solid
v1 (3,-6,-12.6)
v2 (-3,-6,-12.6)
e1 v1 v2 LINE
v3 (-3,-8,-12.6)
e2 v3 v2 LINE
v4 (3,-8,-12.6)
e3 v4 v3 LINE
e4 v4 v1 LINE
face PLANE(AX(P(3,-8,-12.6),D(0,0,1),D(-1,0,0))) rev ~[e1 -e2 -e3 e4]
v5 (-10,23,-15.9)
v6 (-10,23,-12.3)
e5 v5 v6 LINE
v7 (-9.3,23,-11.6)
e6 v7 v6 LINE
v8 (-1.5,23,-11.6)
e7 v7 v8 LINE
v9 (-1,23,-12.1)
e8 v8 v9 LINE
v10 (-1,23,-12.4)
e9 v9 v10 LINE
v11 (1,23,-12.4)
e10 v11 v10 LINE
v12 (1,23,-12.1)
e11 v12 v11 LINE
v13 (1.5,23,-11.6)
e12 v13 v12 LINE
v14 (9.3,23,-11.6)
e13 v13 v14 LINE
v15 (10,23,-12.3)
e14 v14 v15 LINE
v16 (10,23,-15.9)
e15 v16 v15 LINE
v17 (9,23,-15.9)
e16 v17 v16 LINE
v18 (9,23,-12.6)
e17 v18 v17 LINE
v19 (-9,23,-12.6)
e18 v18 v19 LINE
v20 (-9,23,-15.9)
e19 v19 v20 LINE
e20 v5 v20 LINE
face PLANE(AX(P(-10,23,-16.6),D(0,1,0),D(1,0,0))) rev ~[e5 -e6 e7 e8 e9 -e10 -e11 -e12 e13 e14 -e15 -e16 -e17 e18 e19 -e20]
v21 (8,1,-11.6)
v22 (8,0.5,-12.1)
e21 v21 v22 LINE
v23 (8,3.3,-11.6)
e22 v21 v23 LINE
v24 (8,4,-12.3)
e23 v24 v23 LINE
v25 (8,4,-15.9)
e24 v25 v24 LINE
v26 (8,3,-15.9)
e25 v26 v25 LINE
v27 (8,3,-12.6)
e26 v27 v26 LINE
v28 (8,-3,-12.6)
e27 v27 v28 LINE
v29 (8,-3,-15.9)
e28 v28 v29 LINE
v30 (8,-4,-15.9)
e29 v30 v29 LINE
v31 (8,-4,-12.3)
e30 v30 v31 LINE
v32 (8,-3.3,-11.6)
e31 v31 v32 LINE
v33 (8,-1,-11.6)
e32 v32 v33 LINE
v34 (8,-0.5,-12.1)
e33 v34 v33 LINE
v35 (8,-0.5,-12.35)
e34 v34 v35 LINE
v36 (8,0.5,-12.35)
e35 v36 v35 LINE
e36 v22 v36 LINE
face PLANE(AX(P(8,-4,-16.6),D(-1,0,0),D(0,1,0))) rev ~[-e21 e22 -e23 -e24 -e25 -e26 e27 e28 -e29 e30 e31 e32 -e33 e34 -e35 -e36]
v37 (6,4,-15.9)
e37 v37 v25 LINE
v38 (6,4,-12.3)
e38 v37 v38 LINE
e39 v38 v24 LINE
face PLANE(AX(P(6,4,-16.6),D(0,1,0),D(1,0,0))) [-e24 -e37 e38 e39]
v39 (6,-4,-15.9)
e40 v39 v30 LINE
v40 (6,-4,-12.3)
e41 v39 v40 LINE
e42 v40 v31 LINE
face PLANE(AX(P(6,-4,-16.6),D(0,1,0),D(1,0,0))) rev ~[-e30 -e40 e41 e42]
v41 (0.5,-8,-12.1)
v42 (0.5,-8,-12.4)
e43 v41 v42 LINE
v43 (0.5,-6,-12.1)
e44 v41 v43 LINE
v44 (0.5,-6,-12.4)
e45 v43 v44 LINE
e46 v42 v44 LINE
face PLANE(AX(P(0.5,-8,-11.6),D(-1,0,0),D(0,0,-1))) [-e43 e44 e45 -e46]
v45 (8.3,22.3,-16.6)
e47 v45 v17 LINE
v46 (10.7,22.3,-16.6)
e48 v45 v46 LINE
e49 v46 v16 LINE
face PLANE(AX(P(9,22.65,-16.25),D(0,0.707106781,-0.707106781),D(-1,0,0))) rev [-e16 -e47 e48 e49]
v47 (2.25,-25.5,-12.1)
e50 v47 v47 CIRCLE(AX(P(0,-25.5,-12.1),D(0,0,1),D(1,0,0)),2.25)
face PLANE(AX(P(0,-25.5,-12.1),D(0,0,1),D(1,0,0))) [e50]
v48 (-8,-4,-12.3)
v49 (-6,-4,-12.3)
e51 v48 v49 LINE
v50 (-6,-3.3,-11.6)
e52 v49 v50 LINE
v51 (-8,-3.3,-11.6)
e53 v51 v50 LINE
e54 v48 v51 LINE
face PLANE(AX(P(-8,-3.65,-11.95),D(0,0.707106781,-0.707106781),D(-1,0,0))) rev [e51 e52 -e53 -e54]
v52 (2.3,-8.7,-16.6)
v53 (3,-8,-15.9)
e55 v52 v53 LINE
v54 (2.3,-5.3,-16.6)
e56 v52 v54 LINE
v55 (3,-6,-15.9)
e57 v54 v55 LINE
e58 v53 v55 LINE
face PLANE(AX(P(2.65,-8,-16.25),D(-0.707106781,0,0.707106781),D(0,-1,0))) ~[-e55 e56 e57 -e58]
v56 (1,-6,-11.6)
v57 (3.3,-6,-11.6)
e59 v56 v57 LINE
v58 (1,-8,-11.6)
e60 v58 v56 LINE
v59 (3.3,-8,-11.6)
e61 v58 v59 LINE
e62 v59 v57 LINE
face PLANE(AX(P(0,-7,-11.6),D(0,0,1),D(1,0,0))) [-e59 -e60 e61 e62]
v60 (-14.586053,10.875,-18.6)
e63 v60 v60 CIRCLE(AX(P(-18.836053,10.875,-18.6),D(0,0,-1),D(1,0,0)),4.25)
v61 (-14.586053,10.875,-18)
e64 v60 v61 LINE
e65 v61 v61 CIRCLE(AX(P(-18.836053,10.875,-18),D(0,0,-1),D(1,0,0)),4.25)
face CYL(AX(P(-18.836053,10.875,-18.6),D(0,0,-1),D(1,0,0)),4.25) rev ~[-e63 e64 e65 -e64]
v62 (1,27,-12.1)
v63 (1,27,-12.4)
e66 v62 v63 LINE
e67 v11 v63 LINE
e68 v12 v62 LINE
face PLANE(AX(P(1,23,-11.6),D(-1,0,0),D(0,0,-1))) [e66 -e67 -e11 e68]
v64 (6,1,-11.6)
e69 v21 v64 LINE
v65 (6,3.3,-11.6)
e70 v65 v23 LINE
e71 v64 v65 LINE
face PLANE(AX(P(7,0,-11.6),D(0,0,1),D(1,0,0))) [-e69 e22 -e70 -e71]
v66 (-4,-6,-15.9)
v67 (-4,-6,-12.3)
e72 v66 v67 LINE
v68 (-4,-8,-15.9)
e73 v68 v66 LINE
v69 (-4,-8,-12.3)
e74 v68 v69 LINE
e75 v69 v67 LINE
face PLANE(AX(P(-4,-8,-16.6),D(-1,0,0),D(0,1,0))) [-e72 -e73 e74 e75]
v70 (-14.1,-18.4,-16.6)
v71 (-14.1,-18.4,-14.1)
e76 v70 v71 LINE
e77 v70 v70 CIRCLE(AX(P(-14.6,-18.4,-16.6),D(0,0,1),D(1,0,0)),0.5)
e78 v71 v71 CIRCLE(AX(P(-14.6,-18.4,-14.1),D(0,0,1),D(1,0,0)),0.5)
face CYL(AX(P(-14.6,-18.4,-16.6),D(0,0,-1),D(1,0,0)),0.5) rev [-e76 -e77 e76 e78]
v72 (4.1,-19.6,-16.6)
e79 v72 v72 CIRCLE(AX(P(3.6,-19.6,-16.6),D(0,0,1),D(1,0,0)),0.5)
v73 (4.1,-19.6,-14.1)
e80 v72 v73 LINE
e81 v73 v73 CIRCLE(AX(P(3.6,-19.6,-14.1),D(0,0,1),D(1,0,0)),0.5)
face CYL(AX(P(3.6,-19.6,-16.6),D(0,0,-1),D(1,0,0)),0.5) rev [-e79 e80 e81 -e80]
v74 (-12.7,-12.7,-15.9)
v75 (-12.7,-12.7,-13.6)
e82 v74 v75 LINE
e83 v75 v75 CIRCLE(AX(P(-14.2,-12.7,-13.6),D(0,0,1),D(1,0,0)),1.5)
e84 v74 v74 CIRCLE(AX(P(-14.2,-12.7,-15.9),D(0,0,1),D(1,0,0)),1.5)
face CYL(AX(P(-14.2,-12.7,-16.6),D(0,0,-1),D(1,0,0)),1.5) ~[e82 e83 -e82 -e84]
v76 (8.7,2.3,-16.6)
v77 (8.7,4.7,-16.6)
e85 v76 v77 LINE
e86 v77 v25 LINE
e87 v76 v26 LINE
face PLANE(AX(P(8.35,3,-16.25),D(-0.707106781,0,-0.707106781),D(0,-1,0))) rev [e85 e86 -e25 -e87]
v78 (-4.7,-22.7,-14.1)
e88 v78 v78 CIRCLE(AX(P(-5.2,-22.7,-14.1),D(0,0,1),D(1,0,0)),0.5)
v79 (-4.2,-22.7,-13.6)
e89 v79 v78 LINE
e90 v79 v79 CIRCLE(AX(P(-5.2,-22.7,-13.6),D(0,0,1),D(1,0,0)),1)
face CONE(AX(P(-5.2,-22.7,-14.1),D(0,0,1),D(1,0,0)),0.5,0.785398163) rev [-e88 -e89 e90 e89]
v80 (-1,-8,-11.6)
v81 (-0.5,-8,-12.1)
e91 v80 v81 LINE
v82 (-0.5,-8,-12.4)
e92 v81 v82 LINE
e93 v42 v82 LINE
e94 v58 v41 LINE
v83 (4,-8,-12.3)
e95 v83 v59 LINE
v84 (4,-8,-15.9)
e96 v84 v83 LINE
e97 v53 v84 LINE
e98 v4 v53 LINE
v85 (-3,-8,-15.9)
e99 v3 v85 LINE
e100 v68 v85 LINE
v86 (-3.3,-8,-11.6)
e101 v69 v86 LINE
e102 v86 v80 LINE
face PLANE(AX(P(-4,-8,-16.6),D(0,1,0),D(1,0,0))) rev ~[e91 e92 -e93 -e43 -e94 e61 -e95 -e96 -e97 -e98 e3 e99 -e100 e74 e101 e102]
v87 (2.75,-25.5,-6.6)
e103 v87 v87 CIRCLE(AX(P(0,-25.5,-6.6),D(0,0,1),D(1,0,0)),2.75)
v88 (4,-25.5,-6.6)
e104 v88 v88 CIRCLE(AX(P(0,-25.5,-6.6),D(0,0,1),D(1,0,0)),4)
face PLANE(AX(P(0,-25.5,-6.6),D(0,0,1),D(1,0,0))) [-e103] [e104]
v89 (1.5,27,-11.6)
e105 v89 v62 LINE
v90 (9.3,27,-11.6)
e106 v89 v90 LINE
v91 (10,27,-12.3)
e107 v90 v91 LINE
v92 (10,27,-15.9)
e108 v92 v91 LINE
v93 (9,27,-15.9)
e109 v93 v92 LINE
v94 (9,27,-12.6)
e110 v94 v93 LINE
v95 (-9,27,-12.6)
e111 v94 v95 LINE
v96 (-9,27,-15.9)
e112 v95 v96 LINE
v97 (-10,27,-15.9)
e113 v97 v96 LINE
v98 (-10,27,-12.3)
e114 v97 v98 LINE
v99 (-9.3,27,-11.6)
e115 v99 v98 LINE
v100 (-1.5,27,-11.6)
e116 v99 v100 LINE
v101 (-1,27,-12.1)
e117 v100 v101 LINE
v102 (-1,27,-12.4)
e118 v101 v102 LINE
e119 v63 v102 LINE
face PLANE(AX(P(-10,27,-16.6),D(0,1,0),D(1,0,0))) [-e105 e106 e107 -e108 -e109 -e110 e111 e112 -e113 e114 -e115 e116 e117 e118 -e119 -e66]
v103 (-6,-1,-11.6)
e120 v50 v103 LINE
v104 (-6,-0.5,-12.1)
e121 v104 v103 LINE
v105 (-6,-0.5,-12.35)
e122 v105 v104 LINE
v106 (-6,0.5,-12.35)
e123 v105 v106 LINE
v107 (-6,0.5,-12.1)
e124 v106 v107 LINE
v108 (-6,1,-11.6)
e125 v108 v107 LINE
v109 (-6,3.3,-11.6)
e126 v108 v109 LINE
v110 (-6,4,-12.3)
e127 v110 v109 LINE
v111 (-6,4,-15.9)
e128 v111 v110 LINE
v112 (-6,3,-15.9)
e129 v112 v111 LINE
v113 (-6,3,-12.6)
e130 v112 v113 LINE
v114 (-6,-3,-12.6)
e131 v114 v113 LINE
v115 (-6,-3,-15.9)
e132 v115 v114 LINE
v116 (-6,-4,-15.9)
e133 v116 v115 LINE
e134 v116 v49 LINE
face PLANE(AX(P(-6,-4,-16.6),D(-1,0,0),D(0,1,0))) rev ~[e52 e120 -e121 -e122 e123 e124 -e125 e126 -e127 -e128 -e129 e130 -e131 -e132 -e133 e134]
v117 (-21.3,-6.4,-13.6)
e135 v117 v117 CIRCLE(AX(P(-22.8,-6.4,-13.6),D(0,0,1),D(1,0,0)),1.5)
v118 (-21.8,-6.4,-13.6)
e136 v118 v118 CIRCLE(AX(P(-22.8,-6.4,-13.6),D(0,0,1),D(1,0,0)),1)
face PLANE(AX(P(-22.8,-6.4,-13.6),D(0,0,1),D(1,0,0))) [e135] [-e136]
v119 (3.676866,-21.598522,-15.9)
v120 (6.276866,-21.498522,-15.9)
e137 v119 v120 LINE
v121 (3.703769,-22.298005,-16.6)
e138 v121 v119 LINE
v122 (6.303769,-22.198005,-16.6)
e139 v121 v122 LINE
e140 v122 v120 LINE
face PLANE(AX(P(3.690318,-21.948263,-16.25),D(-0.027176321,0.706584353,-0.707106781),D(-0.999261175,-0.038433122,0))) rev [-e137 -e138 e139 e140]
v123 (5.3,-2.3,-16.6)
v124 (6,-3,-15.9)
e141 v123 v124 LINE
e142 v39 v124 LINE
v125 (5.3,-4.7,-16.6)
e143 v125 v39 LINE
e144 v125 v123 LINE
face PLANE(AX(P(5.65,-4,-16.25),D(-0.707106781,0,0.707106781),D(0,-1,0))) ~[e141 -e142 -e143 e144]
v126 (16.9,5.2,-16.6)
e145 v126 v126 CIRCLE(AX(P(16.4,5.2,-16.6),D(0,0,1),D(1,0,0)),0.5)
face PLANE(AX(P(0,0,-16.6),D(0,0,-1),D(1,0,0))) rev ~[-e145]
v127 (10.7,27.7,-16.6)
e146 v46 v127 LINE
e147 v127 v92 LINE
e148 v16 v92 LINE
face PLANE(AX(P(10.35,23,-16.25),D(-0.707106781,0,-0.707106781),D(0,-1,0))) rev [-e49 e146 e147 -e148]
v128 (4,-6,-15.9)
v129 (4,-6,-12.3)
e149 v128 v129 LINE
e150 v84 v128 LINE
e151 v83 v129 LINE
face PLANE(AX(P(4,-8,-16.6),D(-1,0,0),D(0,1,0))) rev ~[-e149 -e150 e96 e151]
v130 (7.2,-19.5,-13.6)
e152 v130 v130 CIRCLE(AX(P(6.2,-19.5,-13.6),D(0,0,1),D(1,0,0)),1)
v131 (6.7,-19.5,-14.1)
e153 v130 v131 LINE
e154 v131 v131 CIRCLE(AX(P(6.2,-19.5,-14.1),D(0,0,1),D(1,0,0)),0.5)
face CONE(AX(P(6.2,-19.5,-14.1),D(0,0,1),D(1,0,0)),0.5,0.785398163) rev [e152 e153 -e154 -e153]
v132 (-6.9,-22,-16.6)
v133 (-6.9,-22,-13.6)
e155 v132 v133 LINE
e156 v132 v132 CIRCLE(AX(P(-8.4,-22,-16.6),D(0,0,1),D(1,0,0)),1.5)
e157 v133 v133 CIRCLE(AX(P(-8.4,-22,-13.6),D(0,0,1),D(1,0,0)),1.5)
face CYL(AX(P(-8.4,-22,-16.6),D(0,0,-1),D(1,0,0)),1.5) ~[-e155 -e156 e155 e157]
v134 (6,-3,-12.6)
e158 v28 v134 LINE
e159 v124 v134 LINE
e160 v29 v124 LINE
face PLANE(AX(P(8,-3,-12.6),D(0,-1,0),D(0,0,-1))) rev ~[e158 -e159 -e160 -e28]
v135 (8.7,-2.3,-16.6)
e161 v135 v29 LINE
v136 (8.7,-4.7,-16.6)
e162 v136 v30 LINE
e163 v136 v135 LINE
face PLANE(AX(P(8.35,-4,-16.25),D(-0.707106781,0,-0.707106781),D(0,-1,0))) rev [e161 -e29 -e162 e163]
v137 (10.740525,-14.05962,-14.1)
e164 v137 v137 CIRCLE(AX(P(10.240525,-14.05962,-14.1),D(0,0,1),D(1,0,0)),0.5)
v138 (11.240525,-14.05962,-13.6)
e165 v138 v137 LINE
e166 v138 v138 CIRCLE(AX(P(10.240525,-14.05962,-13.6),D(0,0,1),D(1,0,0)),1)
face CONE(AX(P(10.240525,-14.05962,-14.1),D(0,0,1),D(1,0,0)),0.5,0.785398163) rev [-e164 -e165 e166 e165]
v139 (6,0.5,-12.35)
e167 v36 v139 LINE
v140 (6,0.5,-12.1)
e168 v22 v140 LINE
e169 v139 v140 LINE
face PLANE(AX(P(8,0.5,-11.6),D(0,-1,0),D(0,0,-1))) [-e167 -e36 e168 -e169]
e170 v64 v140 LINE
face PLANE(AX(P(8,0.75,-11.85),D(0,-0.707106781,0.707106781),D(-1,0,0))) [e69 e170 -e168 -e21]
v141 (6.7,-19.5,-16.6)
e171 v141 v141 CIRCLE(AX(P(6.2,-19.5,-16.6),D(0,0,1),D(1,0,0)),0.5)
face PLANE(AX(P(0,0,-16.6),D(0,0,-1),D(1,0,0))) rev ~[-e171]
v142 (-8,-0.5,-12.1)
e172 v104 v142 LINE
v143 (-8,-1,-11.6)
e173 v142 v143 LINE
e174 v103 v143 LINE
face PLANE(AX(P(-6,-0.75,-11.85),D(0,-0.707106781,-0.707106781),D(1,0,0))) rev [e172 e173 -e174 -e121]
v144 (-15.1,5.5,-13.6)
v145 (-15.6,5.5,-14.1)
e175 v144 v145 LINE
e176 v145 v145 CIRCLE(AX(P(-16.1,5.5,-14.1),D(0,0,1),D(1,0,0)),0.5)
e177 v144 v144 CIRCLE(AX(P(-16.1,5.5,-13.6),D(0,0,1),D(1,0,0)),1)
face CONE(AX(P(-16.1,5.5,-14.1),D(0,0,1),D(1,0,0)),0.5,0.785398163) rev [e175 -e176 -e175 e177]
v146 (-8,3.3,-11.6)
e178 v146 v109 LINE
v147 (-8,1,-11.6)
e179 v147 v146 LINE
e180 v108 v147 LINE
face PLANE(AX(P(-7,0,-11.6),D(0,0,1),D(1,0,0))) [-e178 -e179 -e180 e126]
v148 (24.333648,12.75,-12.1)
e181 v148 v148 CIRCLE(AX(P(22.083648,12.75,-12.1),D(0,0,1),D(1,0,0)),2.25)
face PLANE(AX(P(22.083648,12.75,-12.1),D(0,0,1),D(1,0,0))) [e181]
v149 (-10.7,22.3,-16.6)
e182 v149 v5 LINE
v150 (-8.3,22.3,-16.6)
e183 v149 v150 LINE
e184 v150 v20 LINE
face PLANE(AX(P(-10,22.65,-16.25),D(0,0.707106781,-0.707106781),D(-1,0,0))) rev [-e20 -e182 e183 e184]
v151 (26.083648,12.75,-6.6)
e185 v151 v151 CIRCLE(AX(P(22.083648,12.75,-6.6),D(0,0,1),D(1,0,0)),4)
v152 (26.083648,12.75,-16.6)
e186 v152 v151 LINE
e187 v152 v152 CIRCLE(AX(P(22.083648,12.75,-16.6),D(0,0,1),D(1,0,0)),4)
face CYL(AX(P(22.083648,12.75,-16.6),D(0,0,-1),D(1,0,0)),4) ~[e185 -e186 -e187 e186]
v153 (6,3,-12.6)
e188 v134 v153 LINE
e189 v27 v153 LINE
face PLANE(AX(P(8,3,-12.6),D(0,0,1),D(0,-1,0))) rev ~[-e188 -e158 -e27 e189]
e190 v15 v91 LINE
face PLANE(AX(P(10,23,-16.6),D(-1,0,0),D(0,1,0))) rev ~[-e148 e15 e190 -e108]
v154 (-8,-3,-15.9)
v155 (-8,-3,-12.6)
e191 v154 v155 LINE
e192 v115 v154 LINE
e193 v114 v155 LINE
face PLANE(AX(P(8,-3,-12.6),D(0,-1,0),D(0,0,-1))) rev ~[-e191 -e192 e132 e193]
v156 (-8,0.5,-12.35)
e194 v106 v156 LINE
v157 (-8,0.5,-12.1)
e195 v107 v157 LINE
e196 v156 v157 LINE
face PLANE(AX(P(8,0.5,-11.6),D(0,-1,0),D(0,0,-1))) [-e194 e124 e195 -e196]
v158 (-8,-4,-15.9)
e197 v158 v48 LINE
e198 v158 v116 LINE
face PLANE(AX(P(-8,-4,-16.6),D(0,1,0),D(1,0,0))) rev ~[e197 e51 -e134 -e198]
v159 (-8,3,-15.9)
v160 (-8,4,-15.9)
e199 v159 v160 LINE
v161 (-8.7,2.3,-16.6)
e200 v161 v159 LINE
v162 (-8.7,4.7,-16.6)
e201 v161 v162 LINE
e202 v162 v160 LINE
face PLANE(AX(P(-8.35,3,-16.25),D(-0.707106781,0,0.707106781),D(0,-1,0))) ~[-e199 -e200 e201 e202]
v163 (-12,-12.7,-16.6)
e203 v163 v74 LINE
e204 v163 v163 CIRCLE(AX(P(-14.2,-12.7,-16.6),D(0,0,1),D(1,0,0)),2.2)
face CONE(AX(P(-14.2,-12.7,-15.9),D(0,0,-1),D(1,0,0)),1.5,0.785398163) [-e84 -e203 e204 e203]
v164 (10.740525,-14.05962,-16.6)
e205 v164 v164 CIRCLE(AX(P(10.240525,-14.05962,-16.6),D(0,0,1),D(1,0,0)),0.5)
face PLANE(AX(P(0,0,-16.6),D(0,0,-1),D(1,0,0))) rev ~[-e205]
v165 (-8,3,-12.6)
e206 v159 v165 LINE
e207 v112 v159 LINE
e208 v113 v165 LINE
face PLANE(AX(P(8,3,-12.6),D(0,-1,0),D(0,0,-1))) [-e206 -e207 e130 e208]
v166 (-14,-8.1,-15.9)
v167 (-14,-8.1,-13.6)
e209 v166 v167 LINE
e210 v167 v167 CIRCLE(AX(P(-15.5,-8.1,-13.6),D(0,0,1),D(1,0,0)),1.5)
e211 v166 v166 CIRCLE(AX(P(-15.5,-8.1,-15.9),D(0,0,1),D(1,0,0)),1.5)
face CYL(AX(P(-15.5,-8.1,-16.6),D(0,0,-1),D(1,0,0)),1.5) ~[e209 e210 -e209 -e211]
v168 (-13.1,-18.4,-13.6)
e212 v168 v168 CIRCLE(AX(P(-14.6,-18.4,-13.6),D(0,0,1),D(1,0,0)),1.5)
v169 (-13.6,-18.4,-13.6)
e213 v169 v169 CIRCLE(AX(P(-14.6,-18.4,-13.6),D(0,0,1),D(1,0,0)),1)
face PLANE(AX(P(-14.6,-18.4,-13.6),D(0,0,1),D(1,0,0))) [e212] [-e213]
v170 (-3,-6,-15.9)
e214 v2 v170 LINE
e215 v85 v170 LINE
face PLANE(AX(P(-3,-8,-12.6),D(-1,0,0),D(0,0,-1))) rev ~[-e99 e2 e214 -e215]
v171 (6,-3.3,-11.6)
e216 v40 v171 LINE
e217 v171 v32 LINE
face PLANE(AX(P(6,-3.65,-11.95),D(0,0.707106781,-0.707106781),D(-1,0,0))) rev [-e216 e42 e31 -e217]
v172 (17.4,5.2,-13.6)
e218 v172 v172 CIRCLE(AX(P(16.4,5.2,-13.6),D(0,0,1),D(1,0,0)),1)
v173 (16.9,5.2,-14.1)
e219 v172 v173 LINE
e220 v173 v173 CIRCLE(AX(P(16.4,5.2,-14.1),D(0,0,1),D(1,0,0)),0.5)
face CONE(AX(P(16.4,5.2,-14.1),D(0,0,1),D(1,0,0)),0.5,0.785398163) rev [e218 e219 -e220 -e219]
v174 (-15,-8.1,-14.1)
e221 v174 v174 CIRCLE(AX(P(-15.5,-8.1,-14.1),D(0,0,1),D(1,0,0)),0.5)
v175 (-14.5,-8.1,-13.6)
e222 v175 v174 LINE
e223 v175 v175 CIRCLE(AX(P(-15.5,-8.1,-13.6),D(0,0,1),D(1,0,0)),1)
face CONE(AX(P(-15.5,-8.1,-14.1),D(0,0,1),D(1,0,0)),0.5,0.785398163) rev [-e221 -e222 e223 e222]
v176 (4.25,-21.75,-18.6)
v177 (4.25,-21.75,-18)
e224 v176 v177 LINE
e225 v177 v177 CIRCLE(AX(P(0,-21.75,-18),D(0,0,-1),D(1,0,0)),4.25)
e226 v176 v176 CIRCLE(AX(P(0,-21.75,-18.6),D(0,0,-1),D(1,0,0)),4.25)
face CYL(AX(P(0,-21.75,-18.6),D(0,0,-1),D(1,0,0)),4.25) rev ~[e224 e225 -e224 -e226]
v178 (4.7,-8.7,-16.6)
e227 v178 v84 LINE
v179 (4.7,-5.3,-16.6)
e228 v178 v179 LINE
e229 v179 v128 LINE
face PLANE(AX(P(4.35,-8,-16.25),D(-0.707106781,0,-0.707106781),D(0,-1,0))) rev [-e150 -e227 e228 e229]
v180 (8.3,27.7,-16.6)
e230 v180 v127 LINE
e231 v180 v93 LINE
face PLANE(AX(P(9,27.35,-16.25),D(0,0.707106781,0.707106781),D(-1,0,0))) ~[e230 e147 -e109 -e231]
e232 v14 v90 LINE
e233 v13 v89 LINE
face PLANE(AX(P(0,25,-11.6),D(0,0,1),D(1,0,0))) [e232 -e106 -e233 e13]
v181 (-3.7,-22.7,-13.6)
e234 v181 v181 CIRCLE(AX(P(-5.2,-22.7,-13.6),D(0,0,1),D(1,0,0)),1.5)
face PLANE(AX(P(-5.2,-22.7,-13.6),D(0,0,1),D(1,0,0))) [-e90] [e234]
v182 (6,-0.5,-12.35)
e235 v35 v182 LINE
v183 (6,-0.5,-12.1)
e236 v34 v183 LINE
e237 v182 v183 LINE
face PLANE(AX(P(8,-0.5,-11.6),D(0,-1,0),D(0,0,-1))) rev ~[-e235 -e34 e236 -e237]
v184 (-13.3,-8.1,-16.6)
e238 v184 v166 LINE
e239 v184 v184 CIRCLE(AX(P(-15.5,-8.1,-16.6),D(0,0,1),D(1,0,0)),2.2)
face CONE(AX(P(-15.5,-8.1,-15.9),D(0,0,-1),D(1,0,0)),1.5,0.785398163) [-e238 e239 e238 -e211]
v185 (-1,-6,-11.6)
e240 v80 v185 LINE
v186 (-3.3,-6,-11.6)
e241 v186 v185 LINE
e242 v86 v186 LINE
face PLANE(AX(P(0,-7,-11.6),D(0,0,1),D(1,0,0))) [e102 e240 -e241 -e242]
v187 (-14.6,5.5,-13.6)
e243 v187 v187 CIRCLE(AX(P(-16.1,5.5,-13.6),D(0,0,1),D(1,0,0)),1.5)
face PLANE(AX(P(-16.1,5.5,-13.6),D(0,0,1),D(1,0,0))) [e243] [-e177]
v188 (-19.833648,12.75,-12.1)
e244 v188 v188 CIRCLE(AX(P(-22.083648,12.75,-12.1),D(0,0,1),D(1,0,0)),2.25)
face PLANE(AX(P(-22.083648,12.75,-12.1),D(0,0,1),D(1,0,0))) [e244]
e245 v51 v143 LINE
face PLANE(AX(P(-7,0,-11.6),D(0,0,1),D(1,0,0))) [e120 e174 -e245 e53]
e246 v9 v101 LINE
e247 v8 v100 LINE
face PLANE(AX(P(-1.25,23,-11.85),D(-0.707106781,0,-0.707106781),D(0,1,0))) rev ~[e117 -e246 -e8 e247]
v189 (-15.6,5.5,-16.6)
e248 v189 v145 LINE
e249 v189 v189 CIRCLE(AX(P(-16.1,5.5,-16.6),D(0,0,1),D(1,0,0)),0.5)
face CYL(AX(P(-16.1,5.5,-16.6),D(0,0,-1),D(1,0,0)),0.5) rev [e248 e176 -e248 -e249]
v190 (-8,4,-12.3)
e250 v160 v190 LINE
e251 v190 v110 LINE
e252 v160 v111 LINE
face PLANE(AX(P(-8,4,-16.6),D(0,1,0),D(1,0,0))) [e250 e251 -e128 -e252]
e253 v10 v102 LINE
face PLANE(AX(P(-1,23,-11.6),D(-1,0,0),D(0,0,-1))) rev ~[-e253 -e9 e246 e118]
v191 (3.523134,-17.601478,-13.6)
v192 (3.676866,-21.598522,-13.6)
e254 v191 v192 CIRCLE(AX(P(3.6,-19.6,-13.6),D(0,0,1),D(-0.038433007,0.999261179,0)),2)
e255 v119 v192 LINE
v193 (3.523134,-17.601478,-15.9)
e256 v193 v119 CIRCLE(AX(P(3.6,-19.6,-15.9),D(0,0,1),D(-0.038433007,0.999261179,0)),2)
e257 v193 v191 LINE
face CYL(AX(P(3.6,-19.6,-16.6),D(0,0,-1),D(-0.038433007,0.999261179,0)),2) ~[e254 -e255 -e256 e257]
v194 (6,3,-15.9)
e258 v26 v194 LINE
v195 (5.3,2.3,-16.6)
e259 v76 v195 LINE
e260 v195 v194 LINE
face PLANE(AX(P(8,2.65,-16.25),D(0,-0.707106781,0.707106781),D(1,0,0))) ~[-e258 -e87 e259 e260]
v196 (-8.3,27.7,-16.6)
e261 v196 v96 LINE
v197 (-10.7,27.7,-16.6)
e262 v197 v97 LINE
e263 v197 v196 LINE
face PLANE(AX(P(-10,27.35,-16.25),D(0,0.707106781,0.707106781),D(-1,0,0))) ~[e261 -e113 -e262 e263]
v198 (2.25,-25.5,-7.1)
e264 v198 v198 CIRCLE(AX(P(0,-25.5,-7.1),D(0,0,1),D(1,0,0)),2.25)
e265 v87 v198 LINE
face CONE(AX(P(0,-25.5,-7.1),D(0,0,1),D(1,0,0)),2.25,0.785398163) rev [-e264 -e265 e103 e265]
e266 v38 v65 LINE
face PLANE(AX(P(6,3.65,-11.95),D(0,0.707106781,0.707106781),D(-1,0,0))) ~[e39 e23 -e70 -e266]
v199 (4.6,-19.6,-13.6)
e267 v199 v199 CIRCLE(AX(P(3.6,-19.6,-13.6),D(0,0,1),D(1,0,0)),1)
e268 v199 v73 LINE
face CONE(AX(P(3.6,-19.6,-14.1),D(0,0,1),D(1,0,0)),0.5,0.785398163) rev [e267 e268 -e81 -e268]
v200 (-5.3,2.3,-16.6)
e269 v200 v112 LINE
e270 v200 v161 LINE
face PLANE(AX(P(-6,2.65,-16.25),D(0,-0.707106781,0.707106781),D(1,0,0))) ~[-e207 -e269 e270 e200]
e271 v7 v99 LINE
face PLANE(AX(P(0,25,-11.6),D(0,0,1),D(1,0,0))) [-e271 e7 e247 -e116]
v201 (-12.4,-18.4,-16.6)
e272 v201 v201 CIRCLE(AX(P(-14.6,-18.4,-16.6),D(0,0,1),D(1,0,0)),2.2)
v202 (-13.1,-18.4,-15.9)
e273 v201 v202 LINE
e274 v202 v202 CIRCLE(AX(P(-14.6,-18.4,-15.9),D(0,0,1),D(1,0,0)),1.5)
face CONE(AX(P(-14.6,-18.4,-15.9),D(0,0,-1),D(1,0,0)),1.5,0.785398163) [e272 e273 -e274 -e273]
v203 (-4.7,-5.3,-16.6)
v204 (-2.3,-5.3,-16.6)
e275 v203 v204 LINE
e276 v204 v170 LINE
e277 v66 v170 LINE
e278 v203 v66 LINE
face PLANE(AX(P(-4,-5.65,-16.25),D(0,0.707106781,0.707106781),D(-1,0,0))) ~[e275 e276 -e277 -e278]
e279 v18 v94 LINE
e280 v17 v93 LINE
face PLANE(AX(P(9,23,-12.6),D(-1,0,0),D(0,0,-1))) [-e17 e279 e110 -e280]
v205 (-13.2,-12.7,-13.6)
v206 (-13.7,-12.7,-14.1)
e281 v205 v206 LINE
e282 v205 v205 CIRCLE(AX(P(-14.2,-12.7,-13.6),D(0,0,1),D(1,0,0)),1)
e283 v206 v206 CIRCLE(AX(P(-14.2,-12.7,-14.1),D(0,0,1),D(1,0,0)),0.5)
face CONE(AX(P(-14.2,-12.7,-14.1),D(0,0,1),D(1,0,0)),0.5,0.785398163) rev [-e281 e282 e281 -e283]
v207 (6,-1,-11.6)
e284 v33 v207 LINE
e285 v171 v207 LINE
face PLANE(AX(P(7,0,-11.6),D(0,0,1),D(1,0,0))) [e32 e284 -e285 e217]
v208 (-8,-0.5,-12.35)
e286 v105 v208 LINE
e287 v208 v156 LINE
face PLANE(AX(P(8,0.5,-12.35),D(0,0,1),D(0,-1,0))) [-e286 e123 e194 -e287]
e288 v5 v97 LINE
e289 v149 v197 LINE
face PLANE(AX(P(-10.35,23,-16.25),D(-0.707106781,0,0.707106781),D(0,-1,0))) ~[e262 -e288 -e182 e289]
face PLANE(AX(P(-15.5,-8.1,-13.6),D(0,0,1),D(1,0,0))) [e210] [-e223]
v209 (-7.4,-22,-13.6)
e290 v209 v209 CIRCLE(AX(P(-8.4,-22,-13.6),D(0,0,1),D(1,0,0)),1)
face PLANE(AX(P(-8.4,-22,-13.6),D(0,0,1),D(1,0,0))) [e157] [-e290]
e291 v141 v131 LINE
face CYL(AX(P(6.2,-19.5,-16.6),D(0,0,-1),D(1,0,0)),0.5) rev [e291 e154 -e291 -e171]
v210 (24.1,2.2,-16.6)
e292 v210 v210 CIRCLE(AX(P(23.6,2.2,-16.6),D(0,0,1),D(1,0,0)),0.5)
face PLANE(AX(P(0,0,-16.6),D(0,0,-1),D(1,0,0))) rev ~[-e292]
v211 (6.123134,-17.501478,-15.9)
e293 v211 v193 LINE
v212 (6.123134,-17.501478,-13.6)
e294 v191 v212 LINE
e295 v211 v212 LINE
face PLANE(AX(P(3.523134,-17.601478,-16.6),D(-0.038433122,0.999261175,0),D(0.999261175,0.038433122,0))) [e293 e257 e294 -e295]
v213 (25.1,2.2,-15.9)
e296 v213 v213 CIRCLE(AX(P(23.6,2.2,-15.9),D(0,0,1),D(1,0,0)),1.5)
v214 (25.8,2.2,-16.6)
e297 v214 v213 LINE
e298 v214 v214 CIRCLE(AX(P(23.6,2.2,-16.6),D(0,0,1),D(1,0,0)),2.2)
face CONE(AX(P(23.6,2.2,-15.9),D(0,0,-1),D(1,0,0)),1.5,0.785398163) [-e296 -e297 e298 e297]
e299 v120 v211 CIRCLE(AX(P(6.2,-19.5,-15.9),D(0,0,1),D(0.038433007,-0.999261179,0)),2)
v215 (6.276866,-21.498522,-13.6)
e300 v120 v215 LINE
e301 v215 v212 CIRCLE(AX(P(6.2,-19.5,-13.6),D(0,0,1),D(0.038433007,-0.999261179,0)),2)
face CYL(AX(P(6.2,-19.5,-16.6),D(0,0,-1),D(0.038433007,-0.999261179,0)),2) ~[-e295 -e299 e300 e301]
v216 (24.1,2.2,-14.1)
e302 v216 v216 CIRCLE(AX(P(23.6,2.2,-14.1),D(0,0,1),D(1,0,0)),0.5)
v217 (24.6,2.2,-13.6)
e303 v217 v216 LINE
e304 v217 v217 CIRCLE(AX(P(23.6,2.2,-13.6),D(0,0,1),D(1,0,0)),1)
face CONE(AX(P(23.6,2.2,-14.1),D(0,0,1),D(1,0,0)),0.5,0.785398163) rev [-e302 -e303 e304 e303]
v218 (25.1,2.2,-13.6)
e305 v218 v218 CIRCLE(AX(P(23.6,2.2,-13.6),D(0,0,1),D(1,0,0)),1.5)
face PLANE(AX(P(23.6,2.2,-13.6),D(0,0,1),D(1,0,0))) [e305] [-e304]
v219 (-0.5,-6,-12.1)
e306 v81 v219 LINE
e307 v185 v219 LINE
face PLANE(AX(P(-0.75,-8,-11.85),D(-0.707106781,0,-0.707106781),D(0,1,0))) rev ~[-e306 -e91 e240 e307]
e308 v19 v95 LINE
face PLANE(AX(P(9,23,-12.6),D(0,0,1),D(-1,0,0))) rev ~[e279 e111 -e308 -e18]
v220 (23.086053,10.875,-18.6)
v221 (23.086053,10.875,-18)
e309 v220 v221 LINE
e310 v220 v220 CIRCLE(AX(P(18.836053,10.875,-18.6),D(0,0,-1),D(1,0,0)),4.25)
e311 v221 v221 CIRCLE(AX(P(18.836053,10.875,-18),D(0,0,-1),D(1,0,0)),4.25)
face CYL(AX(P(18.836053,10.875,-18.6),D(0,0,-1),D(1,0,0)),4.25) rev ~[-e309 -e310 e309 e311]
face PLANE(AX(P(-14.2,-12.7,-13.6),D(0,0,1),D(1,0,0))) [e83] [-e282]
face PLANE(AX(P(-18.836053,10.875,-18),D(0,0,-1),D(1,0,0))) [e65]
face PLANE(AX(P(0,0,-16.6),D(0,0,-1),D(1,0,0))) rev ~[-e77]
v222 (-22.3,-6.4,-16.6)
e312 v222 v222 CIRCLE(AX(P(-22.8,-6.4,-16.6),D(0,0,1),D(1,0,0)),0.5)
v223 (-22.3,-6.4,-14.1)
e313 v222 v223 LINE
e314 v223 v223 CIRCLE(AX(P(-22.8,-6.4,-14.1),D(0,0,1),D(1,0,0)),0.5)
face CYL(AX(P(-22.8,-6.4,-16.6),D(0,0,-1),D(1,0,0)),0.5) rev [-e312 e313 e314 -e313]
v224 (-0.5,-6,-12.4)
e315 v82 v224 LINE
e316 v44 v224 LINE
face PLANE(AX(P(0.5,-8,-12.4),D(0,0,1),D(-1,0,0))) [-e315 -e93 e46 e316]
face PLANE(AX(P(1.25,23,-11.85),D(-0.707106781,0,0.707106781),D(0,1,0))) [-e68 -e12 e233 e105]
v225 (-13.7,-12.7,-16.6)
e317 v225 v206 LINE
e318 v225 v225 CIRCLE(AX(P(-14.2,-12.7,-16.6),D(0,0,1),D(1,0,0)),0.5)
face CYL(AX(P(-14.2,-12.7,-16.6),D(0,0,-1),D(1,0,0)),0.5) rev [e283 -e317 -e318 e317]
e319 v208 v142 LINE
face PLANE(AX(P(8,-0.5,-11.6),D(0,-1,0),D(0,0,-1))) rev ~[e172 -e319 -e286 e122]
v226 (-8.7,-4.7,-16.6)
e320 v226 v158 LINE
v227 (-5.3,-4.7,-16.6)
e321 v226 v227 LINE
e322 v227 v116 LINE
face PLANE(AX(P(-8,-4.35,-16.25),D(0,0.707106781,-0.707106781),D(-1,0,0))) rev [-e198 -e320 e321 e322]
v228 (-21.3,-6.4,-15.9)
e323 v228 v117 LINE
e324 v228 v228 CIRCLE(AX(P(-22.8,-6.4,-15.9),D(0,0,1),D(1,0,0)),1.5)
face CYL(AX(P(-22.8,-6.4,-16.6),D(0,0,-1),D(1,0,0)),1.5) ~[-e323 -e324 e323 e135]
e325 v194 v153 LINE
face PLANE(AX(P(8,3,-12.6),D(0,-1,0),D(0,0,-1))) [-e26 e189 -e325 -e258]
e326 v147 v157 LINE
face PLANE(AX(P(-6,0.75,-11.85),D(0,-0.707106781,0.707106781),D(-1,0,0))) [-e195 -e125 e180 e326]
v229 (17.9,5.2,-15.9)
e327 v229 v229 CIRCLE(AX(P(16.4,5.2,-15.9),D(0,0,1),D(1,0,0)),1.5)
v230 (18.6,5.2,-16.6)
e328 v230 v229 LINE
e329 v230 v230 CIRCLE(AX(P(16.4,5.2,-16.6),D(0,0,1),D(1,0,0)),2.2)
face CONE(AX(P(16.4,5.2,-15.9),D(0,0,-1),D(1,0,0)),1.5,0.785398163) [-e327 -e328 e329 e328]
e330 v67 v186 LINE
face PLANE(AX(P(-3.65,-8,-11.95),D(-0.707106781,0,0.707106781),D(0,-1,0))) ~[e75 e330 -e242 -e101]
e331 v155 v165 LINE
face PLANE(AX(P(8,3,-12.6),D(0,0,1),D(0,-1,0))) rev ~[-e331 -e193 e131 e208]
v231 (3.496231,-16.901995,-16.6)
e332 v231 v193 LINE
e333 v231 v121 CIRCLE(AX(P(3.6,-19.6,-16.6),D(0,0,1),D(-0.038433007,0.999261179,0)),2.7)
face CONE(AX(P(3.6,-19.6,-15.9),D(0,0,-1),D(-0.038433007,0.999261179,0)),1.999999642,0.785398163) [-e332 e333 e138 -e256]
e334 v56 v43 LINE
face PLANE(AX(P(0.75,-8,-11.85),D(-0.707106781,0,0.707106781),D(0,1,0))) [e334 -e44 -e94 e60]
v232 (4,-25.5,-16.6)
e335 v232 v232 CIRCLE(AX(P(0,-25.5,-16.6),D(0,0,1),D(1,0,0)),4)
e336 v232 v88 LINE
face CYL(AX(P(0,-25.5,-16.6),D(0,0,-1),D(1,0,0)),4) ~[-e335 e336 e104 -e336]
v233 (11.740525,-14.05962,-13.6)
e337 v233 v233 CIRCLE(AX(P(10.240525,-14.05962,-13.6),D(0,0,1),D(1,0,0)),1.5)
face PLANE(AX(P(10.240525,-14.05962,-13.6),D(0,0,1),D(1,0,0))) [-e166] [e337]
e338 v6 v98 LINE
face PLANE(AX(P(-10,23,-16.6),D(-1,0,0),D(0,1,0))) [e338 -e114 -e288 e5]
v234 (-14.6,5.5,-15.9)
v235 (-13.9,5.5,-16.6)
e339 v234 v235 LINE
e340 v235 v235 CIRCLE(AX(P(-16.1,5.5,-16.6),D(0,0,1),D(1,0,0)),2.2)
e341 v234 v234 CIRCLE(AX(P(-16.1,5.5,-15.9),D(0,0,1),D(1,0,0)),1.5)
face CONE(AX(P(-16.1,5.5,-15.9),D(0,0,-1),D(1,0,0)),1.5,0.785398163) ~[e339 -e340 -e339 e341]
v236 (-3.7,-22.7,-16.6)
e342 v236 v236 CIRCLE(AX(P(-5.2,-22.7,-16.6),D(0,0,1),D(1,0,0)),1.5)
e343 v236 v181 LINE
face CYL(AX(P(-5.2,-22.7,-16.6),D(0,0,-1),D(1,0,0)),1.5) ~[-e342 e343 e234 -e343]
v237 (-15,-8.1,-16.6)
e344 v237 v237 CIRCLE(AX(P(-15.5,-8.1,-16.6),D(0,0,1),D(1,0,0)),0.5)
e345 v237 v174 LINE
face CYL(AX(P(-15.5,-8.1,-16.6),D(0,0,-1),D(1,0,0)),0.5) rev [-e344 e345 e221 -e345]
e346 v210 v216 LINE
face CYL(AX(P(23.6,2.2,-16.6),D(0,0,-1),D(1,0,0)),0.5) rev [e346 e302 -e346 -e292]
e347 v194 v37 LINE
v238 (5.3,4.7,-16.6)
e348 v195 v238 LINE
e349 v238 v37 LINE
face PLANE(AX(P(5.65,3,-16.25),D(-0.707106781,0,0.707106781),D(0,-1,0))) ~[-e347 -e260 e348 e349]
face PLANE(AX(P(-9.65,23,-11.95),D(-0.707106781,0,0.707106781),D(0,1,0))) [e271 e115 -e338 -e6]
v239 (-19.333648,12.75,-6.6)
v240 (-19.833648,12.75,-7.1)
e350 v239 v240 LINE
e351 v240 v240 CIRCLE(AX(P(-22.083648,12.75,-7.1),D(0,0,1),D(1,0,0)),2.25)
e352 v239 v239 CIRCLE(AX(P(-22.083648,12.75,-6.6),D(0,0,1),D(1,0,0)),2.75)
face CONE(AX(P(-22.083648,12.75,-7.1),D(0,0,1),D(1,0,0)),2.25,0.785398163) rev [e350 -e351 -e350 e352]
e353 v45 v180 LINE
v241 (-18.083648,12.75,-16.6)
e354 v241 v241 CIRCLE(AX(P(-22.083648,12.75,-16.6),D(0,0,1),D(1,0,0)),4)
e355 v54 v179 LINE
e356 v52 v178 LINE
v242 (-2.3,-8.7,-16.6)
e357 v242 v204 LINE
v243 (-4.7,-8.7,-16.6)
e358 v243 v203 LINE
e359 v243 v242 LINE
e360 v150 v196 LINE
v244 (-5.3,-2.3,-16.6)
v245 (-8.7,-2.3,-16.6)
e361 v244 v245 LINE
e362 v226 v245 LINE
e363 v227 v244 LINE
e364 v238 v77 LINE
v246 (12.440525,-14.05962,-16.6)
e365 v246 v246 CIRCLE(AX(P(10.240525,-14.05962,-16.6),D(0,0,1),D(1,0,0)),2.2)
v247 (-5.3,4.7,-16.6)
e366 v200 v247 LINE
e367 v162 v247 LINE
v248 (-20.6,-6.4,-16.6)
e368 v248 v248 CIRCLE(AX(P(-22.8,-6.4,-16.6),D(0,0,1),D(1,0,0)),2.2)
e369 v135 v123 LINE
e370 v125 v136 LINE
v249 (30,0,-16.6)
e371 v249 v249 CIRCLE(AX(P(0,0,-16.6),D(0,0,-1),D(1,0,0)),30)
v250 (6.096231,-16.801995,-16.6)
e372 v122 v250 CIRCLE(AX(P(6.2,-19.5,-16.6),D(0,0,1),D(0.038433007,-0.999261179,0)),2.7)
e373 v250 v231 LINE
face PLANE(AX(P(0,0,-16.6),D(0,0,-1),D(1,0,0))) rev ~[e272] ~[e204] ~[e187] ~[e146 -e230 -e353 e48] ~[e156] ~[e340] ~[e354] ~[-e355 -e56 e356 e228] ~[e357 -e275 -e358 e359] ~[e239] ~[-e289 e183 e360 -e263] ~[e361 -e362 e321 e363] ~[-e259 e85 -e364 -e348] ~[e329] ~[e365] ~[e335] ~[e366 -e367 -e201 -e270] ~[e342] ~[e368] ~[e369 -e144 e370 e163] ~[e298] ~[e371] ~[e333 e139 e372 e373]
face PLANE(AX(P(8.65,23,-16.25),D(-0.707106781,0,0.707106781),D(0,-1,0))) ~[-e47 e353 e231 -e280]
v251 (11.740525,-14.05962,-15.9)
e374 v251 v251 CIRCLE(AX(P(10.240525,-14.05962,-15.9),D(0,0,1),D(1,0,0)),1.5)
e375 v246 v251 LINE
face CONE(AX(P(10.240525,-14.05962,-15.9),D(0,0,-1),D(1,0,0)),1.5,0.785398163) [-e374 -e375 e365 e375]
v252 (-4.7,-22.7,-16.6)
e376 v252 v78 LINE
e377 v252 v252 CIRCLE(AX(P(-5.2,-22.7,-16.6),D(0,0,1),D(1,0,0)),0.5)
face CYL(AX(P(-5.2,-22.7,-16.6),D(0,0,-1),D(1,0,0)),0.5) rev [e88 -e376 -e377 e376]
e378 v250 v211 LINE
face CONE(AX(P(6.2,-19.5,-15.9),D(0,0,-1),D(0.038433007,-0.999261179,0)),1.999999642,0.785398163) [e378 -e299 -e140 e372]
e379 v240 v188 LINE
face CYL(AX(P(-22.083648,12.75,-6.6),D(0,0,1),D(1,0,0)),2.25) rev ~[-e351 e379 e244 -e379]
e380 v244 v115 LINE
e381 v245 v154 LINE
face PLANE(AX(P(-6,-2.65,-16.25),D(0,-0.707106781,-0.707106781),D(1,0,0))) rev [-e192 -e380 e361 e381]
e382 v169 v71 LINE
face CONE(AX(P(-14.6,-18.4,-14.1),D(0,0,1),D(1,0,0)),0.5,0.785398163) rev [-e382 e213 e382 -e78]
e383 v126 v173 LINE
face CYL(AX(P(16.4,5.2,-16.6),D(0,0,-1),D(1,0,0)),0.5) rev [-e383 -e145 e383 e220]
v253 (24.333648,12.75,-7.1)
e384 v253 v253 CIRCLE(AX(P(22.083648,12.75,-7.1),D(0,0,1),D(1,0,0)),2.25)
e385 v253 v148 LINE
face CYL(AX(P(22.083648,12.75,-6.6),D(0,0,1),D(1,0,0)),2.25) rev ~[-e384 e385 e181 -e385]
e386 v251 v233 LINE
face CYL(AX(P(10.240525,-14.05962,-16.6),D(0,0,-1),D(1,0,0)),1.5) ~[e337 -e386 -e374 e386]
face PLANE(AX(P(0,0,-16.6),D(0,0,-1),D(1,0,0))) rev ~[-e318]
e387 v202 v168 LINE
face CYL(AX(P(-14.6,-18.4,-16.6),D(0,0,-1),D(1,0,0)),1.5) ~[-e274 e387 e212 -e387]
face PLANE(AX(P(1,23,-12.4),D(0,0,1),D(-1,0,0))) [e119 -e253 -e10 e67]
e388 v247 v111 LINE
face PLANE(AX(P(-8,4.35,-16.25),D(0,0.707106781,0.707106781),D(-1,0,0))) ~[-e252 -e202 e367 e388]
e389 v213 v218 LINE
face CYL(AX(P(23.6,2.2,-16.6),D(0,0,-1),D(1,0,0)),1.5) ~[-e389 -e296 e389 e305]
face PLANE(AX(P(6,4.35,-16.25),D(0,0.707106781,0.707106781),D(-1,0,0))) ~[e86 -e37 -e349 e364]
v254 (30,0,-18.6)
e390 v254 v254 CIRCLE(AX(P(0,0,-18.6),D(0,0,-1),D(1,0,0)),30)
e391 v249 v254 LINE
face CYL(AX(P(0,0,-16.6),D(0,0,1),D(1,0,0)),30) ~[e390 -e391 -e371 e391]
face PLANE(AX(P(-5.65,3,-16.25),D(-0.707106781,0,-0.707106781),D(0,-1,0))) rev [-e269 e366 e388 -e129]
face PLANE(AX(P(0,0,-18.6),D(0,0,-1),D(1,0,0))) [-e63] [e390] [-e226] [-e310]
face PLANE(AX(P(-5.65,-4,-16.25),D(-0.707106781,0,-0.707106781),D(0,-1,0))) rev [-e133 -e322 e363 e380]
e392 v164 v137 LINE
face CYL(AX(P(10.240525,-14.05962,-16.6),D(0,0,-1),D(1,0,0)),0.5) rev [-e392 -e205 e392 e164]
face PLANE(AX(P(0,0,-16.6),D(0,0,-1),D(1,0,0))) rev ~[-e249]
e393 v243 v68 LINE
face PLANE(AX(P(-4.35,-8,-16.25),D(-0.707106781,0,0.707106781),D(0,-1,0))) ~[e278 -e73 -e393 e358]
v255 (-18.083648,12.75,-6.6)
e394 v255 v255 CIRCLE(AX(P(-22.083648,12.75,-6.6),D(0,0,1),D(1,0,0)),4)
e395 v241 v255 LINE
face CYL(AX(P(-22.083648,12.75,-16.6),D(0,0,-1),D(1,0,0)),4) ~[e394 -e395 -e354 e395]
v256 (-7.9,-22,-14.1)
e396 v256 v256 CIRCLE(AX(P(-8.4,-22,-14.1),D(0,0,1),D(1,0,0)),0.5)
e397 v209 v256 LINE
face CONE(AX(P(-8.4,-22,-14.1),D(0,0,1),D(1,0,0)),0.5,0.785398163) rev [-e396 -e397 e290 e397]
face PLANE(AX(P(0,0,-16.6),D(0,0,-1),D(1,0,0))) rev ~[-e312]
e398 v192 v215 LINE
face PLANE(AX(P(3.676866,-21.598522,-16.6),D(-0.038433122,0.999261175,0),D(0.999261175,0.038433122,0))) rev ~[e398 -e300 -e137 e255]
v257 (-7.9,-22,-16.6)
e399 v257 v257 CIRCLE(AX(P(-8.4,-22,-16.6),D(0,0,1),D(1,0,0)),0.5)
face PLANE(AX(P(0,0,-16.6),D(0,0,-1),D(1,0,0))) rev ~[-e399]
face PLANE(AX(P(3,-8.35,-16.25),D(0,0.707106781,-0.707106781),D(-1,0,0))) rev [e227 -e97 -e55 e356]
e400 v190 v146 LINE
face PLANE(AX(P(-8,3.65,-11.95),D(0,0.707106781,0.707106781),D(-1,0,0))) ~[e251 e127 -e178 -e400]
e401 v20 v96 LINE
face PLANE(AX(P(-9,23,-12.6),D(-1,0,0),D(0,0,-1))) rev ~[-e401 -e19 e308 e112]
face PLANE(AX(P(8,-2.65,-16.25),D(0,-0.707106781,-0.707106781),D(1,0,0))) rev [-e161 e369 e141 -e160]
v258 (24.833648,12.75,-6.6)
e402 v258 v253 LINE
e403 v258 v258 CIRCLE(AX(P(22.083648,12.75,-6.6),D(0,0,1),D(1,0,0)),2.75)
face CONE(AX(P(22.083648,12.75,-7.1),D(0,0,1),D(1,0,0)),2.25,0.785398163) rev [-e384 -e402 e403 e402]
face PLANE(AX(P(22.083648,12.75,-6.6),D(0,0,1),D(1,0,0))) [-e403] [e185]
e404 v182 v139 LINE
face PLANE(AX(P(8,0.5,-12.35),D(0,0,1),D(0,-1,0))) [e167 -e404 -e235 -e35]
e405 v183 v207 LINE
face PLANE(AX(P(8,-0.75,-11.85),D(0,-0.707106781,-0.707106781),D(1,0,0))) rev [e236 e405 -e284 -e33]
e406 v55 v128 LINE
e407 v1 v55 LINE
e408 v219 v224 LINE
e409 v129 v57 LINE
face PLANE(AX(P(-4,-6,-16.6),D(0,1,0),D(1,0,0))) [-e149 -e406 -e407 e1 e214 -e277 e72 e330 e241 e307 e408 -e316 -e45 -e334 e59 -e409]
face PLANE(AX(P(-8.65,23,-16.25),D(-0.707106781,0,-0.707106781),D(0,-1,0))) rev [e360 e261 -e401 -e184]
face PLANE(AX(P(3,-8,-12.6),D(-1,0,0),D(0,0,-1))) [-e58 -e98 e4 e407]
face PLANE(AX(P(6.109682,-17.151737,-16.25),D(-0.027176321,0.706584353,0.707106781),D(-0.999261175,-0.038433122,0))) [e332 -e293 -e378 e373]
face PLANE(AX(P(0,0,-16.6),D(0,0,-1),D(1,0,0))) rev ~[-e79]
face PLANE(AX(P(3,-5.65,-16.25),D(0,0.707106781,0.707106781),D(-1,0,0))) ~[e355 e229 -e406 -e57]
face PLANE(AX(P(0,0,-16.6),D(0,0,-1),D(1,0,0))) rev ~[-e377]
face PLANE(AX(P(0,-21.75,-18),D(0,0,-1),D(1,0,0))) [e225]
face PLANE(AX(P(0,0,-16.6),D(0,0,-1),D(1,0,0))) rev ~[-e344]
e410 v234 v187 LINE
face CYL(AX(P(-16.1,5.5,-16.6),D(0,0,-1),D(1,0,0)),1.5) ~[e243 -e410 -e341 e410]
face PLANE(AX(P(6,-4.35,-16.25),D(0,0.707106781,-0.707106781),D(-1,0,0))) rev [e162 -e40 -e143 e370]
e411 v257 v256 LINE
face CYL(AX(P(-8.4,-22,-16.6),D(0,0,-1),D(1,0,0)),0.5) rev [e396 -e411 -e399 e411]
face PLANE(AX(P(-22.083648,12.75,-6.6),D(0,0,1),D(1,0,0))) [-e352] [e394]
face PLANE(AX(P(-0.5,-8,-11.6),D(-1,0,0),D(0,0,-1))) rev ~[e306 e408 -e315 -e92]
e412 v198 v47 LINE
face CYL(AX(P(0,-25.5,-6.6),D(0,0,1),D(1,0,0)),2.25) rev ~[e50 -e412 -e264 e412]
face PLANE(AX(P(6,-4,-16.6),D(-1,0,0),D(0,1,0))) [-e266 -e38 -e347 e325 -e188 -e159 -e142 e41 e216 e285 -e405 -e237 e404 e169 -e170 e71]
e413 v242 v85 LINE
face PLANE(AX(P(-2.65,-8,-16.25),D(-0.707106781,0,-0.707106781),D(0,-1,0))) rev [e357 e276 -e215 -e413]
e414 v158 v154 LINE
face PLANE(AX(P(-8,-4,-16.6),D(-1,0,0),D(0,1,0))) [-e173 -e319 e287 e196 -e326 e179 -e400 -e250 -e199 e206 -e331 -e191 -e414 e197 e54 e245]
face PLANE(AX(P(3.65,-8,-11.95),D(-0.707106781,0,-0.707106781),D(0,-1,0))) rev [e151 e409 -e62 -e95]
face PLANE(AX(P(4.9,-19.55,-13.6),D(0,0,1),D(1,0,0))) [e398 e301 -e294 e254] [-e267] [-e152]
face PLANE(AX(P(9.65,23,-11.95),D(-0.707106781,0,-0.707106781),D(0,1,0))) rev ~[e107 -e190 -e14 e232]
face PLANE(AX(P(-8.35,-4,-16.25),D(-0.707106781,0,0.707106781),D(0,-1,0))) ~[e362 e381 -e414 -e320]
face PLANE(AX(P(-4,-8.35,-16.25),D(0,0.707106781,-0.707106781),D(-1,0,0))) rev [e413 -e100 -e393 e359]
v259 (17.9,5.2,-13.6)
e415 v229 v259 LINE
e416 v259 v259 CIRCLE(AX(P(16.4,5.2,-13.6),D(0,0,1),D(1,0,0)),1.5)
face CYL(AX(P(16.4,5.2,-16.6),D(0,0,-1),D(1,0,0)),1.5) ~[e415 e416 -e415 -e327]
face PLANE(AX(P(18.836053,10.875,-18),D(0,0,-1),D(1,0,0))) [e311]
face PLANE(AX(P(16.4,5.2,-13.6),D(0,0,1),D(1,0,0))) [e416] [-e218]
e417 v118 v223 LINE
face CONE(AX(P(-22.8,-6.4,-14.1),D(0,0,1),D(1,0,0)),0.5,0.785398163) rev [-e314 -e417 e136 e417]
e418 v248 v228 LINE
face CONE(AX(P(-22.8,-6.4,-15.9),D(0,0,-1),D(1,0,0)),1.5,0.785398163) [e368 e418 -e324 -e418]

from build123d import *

# Parameters (mm, degrees)
SKETCH_R        = 30
PAD_DEPTH       = 2
SKETCH001_R     = 1.5
SKETCH001_R_2   = 0.5
PAD001_DEPTH    = 3
SKETCH009_R     = 4
PAD004_DEPTH    = 10
SKETCH010_R     = 2.25
POCKET004_DEPTH = 5.5
SKETCH011_R     = 4.25
POCKET005_DEPTH = 0.6
SKETCH012_W     = 20
SKETCH012_H     = 4
SKETCH012_W_2   = 2
SKETCH012_H_2   = 8
SKETCH012_W_3   = 8
SKETCH012_H_3   = 2
PAD005_DEPTH    = 5
SKETCH013_W     = 6
SKETCH013_H     = 4
SKETCH013_W_2   = 1
SKETCH013_H_2   = 0.75
POCKET006_DEPTH = 38.001
SKETCH014_W     = 6
SKETCH014_H     = 4
SKETCH014_W_2   = 1
SKETCH014_H_2   = 0.8
POCKET007_DEPTH = 2
CHAMFER_SIZE    = 0.5
SKETCH015_W     = 18
SKETCH015_H     = 4
SKETCH015_W_2   = 2
SKETCH015_H_2   = 0.8
POCKET008_DEPTH = 4
CHAMFER001_SIZE = 0.5
CHAMFER002_SIZE = 0.7
CHAMFER003_SIZE = 0.5
CHAMFER004_SIZE = 0.5
CHAMFER005_SIZE = 0.7


with BuildPart() as part:
    # Sketch (on DatumPlane) → Pad (new body)
    with BuildSketch(Plane(origin=(0, 0, -16.6), x_dir=(1, 0, 0), z_dir=(0, 0, -1))):
        Circle(SKETCH_R)
    extrude(amount=PAD_DEPTH)

    # Sketch001 (on Face2 of Pad) → Pad001 (join)
    with BuildSketch(Plane.XY.offset(-16.6)):
        with Locations((-16.1, 5.5)):
            Circle(SKETCH001_R)
        with Locations((-16.1, 5.5)):
            Circle(SKETCH001_R_2, mode=Mode.SUBTRACT)
        with Locations((-22.8, -6.4)):
            Circle(SKETCH001_R)
        with Locations((-22.8, -6.4)):
            Circle(SKETCH001_R_2, mode=Mode.SUBTRACT)
        with Locations((-15.5, -8.1)):
            Circle(SKETCH001_R)
        with Locations((-15.5, -8.1)):
            Circle(SKETCH001_R_2, mode=Mode.SUBTRACT)
        with Locations((-14.2, -12.7)):
            Circle(SKETCH001_R)
        with Locations((-14.2, -12.7)):
            Circle(SKETCH001_R_2, mode=Mode.SUBTRACT)
        with Locations((-14.6, -18.4)):
            Circle(SKETCH001_R)
        with Locations((-14.6, -18.4)):
            Circle(SKETCH001_R_2, mode=Mode.SUBTRACT)
        with Locations((-8.4, -22)):
            Circle(SKETCH001_R)
        with Locations((-8.4, -22)):
            Circle(SKETCH001_R_2, mode=Mode.SUBTRACT)
        with Locations((-5.2, -22.7)):
            Circle(SKETCH001_R)
        with Locations((-5.2, -22.7)):
            Circle(SKETCH001_R_2, mode=Mode.SUBTRACT)
        with Locations((10.240525, -14.05962)):
            Circle(SKETCH001_R)
        with Locations((10.240525, -14.05962)):
            Circle(SKETCH001_R_2, mode=Mode.SUBTRACT)
        with Locations((16.4, 5.2)):
            Circle(SKETCH001_R)
        with Locations((16.4, 5.2)):
            Circle(SKETCH001_R_2, mode=Mode.SUBTRACT)
        with Locations((23.6, 2.2)):
            Circle(SKETCH001_R)
        with Locations((23.6, 2.2)):
            Circle(SKETCH001_R_2, mode=Mode.SUBTRACT)
        with BuildLine():
            ThreePointArc((3.523134, -17.601478), (1.601478, -19.676866), (3.676866, -21.598522))
            Line((3.676866, -21.598522), (6.276866, -21.498522))
            ThreePointArc((6.276866, -21.498522), (8.198522, -19.423134), (6.123134, -17.501478))
            Line((3.523134, -17.601478), (6.123134, -17.501478))
        make_face()
        with Locations((3.6, -19.6)):
            Circle(SKETCH001_R_2, mode=Mode.SUBTRACT)
        with Locations((6.2, -19.5)):
            Circle(SKETCH001_R_2, mode=Mode.SUBTRACT)
    extrude(amount=PAD001_DEPTH)

    # Sketch009 (on Face2 of Pad001) → Pad004 (join)
    with BuildSketch(Plane.XY.offset(-16.6)):
        with Locations((22.083648, 12.75)):
            Circle(SKETCH009_R)
        with Locations((-22.083648, 12.75)):
            Circle(SKETCH009_R)
        with Locations((0, -25.5)):
            Circle(SKETCH009_R)
    extrude(amount=PAD004_DEPTH)

    # Sketch010 (on Face34 of Pad004) → Pocket004 (cut)
    with BuildSketch(Plane.XY.offset(-6.6)):
        with Locations((-22.083648, 12.75)):
            Circle(SKETCH010_R)
        with Locations((22.083648, 12.75)):
            Circle(SKETCH010_R)
        with Locations((0, -25.5)):
            Circle(SKETCH010_R)
    extrude(amount=-POCKET004_DEPTH, mode=Mode.SUBTRACT)

    # Sketch011 (on Face3 of Pocket004) → Pocket005 (cut)
    with BuildSketch(Plane(origin=(0, 0, -18.6), x_dir=(1, 0, 0), z_dir=(0, 0, -1))):
        with Locations((0, 21.75)):
            Circle(SKETCH011_R)
        with Locations((18.836053, -10.875)):
            Circle(SKETCH011_R)
        with Locations((-18.836053, -10.875)):
            Circle(SKETCH011_R)
    extrude(amount=-POCKET005_DEPTH, mode=Mode.SUBTRACT)

    # Sketch012 (on Face2 of Pocket005) → Pad005 (join)
    with BuildSketch(Plane.XY.offset(-16.6)):
        with Locations((0, 25)):
            Rectangle(SKETCH012_W, SKETCH012_H)
        with Locations((-7, 0)):
            Rectangle(SKETCH012_W_2, SKETCH012_H_2)
        with Locations((7, 0)):
            Rectangle(SKETCH012_W_2, SKETCH012_H_2)
        with Locations((0, -7)):
            Rectangle(SKETCH012_W_3, SKETCH012_H_3)
    extrude(amount=PAD005_DEPTH)

    # Sketch013 (on Face32 of Pad005) → Pocket006 (cut, through all)
    with BuildSketch(Plane(origin=(8, 0, -16.6), x_dir=(0, -1, 0), z_dir=(1, 0, 0))):
        with Locations((0, -2)):
            Rectangle(SKETCH013_W, SKETCH013_H)
        with Locations((0, -4.625)):
            Rectangle(SKETCH013_W_2, SKETCH013_H_2)
    extrude(amount=-POCKET006_DEPTH, mode=Mode.SUBTRACT)

    # Sketch014 (on Face29 of Pocket006) → Pocket007 (cut)
    with BuildSketch(Plane(origin=(0, -8, -16.6), x_dir=(-1, 0, 0), z_dir=(0, -1, 0))):
        with Locations((0, -2)):
            Rectangle(SKETCH014_W, SKETCH014_H)
        with Locations((0, -4.6)):
            Rectangle(SKETCH014_W_2, SKETCH014_H_2)
    extrude(amount=-POCKET007_DEPTH, mode=Mode.SUBTRACT)

    # Chamfer
    chamfer_edges = [part.edges().sort_by_distance(p)[0] for p in [
        (-7, 0.5, -11.6),
        (-7, -0.5, -11.6),
        (-0.5, -7, -11.6),
        (0.5, -7, -11.6),
        (7, -0.5, -11.6),
        (7, 0.5, -11.6),
    ]]
    chamfer(chamfer_edges, length=CHAMFER_SIZE)

    # Sketch015 (on Face17 of Chamfer) → Pocket008 (cut)
    with BuildSketch(Plane(origin=(0, 23, -16.6), x_dir=(-1, 0, 0), z_dir=(0, -1, 0))):
        with Locations((0, -2)):
            Rectangle(SKETCH015_W, SKETCH015_H)
        with Locations((0, -4.6)):
            Rectangle(SKETCH015_W_2, SKETCH015_H_2)
    extrude(amount=-POCKET008_DEPTH, mode=Mode.SUBTRACT)

    # Chamfer001
    chamfer001_edges = [part.edges().sort_by_distance(p)[0] for p in [
        (-1, 25, -11.6),
        (1, 25, -11.6),
    ]]
    chamfer(chamfer001_edges, length=CHAMFER001_SIZE)

    # Chamfer002
    chamfer002_edges = [part.edges().sort_by_distance(p)[0] for p in [
        (10, 25, -11.6),
        (-10, 25, -11.6),
        (-7, 4, -11.6),
        (-7, -4, -11.6),
        (-4, -7, -11.6),
        (4, -7, -11.6),
        (7, -4, -11.6),
        (7, 4, -11.6),
    ]]
    chamfer(chamfer002_edges, length=CHAMFER002_SIZE)

    # Chamfer003
    chamfer003_edges = [part.edges().sort_by_distance(p)[0] for p in [
        (-24.333648, 12.75, -6.6),
        (19.833648, 12.75, -6.6),
        (-2.25, -25.5, -6.6),
    ]]
    chamfer(chamfer003_edges, length=CHAMFER003_SIZE)

    # Chamfer004
    chamfer004_edges = [part.edges().sort_by_distance(p)[0] for p in [
        (-16.6, 5.5, -13.6),
        (15.9, 5.2, -13.6),
        (23.1, 2.2, -13.6),
        (9.740525, -14.05962, -13.6),
        (5.7, -19.5, -13.6),
        (3.1, -19.6, -13.6),
        (-8.9, -22, -13.6),
        (-5.7, -22.7, -13.6),
        (-15.1, -18.4, -13.6),
        (-14.7, -12.7, -13.6),
        (-16, -8.1, -13.6),
        (-23.3, -6.4, -13.6),
    ]]
    chamfer(chamfer004_edges, length=CHAMFER004_SIZE)

    # Chamfer005
    chamfer005_edges = [part.edges().sort_by_distance(p)[0] for p in [
        (-24.3, -6.4, -16.6),
        (-17.6, 5.5, -16.6),
        (-17, -8.1, -16.6),
        (-15.7, -12.7, -16.6),
        (-16.1, -18.4, -16.6),
        (8.740525, -14.05962, -16.6),
        (14.9, 5.2, -16.6),
        (22.1, 2.2, -16.6),
        (8.198522, -19.423134, -16.6),
        (4, -7, -16.6),
        (7, -4, -16.6),
        (-7, -4, -16.6),
        (3.5, -8, -16.6),
        (-3.5, -8, -16.6),
        (-3, -7, -16.6),
        (7, 3, -16.6),
        (8, 3.5, -16.6),
        (8, -3.5, -16.6),
        (-6, -3.5, -16.6),
        (-6, 3.5, -16.6),
        (-7, 3, -16.6),
        (6, 3.5, -16.6),
        (-8, -3.5, -16.6),
        (-8, 3.5, -16.6),
        (-4, -7, -16.6),
        (3, -7, -16.6),
        (6, -3.5, -16.6),
        (7, -3, -16.6),
        (7, 4, -16.6),
        (-7, 4, -16.6),
        (-7, -3, -16.6),
        (-3.5, -6, -16.6),
        (3.5, -6, -16.6),
        (-9.5, 23, -16.6),
        (-10, 25, -16.6),
        (-9.5, 27, -16.6),
        (-9, 25, -16.6),
        (10, 25, -16.6),
        (9.5, 27, -16.6),
        (9, 25, -16.6),
        (9.5, 23, -16.6),
    ]]
    chamfer(chamfer005_edges, length=CHAMFER005_SIZE)


solid = part.part
